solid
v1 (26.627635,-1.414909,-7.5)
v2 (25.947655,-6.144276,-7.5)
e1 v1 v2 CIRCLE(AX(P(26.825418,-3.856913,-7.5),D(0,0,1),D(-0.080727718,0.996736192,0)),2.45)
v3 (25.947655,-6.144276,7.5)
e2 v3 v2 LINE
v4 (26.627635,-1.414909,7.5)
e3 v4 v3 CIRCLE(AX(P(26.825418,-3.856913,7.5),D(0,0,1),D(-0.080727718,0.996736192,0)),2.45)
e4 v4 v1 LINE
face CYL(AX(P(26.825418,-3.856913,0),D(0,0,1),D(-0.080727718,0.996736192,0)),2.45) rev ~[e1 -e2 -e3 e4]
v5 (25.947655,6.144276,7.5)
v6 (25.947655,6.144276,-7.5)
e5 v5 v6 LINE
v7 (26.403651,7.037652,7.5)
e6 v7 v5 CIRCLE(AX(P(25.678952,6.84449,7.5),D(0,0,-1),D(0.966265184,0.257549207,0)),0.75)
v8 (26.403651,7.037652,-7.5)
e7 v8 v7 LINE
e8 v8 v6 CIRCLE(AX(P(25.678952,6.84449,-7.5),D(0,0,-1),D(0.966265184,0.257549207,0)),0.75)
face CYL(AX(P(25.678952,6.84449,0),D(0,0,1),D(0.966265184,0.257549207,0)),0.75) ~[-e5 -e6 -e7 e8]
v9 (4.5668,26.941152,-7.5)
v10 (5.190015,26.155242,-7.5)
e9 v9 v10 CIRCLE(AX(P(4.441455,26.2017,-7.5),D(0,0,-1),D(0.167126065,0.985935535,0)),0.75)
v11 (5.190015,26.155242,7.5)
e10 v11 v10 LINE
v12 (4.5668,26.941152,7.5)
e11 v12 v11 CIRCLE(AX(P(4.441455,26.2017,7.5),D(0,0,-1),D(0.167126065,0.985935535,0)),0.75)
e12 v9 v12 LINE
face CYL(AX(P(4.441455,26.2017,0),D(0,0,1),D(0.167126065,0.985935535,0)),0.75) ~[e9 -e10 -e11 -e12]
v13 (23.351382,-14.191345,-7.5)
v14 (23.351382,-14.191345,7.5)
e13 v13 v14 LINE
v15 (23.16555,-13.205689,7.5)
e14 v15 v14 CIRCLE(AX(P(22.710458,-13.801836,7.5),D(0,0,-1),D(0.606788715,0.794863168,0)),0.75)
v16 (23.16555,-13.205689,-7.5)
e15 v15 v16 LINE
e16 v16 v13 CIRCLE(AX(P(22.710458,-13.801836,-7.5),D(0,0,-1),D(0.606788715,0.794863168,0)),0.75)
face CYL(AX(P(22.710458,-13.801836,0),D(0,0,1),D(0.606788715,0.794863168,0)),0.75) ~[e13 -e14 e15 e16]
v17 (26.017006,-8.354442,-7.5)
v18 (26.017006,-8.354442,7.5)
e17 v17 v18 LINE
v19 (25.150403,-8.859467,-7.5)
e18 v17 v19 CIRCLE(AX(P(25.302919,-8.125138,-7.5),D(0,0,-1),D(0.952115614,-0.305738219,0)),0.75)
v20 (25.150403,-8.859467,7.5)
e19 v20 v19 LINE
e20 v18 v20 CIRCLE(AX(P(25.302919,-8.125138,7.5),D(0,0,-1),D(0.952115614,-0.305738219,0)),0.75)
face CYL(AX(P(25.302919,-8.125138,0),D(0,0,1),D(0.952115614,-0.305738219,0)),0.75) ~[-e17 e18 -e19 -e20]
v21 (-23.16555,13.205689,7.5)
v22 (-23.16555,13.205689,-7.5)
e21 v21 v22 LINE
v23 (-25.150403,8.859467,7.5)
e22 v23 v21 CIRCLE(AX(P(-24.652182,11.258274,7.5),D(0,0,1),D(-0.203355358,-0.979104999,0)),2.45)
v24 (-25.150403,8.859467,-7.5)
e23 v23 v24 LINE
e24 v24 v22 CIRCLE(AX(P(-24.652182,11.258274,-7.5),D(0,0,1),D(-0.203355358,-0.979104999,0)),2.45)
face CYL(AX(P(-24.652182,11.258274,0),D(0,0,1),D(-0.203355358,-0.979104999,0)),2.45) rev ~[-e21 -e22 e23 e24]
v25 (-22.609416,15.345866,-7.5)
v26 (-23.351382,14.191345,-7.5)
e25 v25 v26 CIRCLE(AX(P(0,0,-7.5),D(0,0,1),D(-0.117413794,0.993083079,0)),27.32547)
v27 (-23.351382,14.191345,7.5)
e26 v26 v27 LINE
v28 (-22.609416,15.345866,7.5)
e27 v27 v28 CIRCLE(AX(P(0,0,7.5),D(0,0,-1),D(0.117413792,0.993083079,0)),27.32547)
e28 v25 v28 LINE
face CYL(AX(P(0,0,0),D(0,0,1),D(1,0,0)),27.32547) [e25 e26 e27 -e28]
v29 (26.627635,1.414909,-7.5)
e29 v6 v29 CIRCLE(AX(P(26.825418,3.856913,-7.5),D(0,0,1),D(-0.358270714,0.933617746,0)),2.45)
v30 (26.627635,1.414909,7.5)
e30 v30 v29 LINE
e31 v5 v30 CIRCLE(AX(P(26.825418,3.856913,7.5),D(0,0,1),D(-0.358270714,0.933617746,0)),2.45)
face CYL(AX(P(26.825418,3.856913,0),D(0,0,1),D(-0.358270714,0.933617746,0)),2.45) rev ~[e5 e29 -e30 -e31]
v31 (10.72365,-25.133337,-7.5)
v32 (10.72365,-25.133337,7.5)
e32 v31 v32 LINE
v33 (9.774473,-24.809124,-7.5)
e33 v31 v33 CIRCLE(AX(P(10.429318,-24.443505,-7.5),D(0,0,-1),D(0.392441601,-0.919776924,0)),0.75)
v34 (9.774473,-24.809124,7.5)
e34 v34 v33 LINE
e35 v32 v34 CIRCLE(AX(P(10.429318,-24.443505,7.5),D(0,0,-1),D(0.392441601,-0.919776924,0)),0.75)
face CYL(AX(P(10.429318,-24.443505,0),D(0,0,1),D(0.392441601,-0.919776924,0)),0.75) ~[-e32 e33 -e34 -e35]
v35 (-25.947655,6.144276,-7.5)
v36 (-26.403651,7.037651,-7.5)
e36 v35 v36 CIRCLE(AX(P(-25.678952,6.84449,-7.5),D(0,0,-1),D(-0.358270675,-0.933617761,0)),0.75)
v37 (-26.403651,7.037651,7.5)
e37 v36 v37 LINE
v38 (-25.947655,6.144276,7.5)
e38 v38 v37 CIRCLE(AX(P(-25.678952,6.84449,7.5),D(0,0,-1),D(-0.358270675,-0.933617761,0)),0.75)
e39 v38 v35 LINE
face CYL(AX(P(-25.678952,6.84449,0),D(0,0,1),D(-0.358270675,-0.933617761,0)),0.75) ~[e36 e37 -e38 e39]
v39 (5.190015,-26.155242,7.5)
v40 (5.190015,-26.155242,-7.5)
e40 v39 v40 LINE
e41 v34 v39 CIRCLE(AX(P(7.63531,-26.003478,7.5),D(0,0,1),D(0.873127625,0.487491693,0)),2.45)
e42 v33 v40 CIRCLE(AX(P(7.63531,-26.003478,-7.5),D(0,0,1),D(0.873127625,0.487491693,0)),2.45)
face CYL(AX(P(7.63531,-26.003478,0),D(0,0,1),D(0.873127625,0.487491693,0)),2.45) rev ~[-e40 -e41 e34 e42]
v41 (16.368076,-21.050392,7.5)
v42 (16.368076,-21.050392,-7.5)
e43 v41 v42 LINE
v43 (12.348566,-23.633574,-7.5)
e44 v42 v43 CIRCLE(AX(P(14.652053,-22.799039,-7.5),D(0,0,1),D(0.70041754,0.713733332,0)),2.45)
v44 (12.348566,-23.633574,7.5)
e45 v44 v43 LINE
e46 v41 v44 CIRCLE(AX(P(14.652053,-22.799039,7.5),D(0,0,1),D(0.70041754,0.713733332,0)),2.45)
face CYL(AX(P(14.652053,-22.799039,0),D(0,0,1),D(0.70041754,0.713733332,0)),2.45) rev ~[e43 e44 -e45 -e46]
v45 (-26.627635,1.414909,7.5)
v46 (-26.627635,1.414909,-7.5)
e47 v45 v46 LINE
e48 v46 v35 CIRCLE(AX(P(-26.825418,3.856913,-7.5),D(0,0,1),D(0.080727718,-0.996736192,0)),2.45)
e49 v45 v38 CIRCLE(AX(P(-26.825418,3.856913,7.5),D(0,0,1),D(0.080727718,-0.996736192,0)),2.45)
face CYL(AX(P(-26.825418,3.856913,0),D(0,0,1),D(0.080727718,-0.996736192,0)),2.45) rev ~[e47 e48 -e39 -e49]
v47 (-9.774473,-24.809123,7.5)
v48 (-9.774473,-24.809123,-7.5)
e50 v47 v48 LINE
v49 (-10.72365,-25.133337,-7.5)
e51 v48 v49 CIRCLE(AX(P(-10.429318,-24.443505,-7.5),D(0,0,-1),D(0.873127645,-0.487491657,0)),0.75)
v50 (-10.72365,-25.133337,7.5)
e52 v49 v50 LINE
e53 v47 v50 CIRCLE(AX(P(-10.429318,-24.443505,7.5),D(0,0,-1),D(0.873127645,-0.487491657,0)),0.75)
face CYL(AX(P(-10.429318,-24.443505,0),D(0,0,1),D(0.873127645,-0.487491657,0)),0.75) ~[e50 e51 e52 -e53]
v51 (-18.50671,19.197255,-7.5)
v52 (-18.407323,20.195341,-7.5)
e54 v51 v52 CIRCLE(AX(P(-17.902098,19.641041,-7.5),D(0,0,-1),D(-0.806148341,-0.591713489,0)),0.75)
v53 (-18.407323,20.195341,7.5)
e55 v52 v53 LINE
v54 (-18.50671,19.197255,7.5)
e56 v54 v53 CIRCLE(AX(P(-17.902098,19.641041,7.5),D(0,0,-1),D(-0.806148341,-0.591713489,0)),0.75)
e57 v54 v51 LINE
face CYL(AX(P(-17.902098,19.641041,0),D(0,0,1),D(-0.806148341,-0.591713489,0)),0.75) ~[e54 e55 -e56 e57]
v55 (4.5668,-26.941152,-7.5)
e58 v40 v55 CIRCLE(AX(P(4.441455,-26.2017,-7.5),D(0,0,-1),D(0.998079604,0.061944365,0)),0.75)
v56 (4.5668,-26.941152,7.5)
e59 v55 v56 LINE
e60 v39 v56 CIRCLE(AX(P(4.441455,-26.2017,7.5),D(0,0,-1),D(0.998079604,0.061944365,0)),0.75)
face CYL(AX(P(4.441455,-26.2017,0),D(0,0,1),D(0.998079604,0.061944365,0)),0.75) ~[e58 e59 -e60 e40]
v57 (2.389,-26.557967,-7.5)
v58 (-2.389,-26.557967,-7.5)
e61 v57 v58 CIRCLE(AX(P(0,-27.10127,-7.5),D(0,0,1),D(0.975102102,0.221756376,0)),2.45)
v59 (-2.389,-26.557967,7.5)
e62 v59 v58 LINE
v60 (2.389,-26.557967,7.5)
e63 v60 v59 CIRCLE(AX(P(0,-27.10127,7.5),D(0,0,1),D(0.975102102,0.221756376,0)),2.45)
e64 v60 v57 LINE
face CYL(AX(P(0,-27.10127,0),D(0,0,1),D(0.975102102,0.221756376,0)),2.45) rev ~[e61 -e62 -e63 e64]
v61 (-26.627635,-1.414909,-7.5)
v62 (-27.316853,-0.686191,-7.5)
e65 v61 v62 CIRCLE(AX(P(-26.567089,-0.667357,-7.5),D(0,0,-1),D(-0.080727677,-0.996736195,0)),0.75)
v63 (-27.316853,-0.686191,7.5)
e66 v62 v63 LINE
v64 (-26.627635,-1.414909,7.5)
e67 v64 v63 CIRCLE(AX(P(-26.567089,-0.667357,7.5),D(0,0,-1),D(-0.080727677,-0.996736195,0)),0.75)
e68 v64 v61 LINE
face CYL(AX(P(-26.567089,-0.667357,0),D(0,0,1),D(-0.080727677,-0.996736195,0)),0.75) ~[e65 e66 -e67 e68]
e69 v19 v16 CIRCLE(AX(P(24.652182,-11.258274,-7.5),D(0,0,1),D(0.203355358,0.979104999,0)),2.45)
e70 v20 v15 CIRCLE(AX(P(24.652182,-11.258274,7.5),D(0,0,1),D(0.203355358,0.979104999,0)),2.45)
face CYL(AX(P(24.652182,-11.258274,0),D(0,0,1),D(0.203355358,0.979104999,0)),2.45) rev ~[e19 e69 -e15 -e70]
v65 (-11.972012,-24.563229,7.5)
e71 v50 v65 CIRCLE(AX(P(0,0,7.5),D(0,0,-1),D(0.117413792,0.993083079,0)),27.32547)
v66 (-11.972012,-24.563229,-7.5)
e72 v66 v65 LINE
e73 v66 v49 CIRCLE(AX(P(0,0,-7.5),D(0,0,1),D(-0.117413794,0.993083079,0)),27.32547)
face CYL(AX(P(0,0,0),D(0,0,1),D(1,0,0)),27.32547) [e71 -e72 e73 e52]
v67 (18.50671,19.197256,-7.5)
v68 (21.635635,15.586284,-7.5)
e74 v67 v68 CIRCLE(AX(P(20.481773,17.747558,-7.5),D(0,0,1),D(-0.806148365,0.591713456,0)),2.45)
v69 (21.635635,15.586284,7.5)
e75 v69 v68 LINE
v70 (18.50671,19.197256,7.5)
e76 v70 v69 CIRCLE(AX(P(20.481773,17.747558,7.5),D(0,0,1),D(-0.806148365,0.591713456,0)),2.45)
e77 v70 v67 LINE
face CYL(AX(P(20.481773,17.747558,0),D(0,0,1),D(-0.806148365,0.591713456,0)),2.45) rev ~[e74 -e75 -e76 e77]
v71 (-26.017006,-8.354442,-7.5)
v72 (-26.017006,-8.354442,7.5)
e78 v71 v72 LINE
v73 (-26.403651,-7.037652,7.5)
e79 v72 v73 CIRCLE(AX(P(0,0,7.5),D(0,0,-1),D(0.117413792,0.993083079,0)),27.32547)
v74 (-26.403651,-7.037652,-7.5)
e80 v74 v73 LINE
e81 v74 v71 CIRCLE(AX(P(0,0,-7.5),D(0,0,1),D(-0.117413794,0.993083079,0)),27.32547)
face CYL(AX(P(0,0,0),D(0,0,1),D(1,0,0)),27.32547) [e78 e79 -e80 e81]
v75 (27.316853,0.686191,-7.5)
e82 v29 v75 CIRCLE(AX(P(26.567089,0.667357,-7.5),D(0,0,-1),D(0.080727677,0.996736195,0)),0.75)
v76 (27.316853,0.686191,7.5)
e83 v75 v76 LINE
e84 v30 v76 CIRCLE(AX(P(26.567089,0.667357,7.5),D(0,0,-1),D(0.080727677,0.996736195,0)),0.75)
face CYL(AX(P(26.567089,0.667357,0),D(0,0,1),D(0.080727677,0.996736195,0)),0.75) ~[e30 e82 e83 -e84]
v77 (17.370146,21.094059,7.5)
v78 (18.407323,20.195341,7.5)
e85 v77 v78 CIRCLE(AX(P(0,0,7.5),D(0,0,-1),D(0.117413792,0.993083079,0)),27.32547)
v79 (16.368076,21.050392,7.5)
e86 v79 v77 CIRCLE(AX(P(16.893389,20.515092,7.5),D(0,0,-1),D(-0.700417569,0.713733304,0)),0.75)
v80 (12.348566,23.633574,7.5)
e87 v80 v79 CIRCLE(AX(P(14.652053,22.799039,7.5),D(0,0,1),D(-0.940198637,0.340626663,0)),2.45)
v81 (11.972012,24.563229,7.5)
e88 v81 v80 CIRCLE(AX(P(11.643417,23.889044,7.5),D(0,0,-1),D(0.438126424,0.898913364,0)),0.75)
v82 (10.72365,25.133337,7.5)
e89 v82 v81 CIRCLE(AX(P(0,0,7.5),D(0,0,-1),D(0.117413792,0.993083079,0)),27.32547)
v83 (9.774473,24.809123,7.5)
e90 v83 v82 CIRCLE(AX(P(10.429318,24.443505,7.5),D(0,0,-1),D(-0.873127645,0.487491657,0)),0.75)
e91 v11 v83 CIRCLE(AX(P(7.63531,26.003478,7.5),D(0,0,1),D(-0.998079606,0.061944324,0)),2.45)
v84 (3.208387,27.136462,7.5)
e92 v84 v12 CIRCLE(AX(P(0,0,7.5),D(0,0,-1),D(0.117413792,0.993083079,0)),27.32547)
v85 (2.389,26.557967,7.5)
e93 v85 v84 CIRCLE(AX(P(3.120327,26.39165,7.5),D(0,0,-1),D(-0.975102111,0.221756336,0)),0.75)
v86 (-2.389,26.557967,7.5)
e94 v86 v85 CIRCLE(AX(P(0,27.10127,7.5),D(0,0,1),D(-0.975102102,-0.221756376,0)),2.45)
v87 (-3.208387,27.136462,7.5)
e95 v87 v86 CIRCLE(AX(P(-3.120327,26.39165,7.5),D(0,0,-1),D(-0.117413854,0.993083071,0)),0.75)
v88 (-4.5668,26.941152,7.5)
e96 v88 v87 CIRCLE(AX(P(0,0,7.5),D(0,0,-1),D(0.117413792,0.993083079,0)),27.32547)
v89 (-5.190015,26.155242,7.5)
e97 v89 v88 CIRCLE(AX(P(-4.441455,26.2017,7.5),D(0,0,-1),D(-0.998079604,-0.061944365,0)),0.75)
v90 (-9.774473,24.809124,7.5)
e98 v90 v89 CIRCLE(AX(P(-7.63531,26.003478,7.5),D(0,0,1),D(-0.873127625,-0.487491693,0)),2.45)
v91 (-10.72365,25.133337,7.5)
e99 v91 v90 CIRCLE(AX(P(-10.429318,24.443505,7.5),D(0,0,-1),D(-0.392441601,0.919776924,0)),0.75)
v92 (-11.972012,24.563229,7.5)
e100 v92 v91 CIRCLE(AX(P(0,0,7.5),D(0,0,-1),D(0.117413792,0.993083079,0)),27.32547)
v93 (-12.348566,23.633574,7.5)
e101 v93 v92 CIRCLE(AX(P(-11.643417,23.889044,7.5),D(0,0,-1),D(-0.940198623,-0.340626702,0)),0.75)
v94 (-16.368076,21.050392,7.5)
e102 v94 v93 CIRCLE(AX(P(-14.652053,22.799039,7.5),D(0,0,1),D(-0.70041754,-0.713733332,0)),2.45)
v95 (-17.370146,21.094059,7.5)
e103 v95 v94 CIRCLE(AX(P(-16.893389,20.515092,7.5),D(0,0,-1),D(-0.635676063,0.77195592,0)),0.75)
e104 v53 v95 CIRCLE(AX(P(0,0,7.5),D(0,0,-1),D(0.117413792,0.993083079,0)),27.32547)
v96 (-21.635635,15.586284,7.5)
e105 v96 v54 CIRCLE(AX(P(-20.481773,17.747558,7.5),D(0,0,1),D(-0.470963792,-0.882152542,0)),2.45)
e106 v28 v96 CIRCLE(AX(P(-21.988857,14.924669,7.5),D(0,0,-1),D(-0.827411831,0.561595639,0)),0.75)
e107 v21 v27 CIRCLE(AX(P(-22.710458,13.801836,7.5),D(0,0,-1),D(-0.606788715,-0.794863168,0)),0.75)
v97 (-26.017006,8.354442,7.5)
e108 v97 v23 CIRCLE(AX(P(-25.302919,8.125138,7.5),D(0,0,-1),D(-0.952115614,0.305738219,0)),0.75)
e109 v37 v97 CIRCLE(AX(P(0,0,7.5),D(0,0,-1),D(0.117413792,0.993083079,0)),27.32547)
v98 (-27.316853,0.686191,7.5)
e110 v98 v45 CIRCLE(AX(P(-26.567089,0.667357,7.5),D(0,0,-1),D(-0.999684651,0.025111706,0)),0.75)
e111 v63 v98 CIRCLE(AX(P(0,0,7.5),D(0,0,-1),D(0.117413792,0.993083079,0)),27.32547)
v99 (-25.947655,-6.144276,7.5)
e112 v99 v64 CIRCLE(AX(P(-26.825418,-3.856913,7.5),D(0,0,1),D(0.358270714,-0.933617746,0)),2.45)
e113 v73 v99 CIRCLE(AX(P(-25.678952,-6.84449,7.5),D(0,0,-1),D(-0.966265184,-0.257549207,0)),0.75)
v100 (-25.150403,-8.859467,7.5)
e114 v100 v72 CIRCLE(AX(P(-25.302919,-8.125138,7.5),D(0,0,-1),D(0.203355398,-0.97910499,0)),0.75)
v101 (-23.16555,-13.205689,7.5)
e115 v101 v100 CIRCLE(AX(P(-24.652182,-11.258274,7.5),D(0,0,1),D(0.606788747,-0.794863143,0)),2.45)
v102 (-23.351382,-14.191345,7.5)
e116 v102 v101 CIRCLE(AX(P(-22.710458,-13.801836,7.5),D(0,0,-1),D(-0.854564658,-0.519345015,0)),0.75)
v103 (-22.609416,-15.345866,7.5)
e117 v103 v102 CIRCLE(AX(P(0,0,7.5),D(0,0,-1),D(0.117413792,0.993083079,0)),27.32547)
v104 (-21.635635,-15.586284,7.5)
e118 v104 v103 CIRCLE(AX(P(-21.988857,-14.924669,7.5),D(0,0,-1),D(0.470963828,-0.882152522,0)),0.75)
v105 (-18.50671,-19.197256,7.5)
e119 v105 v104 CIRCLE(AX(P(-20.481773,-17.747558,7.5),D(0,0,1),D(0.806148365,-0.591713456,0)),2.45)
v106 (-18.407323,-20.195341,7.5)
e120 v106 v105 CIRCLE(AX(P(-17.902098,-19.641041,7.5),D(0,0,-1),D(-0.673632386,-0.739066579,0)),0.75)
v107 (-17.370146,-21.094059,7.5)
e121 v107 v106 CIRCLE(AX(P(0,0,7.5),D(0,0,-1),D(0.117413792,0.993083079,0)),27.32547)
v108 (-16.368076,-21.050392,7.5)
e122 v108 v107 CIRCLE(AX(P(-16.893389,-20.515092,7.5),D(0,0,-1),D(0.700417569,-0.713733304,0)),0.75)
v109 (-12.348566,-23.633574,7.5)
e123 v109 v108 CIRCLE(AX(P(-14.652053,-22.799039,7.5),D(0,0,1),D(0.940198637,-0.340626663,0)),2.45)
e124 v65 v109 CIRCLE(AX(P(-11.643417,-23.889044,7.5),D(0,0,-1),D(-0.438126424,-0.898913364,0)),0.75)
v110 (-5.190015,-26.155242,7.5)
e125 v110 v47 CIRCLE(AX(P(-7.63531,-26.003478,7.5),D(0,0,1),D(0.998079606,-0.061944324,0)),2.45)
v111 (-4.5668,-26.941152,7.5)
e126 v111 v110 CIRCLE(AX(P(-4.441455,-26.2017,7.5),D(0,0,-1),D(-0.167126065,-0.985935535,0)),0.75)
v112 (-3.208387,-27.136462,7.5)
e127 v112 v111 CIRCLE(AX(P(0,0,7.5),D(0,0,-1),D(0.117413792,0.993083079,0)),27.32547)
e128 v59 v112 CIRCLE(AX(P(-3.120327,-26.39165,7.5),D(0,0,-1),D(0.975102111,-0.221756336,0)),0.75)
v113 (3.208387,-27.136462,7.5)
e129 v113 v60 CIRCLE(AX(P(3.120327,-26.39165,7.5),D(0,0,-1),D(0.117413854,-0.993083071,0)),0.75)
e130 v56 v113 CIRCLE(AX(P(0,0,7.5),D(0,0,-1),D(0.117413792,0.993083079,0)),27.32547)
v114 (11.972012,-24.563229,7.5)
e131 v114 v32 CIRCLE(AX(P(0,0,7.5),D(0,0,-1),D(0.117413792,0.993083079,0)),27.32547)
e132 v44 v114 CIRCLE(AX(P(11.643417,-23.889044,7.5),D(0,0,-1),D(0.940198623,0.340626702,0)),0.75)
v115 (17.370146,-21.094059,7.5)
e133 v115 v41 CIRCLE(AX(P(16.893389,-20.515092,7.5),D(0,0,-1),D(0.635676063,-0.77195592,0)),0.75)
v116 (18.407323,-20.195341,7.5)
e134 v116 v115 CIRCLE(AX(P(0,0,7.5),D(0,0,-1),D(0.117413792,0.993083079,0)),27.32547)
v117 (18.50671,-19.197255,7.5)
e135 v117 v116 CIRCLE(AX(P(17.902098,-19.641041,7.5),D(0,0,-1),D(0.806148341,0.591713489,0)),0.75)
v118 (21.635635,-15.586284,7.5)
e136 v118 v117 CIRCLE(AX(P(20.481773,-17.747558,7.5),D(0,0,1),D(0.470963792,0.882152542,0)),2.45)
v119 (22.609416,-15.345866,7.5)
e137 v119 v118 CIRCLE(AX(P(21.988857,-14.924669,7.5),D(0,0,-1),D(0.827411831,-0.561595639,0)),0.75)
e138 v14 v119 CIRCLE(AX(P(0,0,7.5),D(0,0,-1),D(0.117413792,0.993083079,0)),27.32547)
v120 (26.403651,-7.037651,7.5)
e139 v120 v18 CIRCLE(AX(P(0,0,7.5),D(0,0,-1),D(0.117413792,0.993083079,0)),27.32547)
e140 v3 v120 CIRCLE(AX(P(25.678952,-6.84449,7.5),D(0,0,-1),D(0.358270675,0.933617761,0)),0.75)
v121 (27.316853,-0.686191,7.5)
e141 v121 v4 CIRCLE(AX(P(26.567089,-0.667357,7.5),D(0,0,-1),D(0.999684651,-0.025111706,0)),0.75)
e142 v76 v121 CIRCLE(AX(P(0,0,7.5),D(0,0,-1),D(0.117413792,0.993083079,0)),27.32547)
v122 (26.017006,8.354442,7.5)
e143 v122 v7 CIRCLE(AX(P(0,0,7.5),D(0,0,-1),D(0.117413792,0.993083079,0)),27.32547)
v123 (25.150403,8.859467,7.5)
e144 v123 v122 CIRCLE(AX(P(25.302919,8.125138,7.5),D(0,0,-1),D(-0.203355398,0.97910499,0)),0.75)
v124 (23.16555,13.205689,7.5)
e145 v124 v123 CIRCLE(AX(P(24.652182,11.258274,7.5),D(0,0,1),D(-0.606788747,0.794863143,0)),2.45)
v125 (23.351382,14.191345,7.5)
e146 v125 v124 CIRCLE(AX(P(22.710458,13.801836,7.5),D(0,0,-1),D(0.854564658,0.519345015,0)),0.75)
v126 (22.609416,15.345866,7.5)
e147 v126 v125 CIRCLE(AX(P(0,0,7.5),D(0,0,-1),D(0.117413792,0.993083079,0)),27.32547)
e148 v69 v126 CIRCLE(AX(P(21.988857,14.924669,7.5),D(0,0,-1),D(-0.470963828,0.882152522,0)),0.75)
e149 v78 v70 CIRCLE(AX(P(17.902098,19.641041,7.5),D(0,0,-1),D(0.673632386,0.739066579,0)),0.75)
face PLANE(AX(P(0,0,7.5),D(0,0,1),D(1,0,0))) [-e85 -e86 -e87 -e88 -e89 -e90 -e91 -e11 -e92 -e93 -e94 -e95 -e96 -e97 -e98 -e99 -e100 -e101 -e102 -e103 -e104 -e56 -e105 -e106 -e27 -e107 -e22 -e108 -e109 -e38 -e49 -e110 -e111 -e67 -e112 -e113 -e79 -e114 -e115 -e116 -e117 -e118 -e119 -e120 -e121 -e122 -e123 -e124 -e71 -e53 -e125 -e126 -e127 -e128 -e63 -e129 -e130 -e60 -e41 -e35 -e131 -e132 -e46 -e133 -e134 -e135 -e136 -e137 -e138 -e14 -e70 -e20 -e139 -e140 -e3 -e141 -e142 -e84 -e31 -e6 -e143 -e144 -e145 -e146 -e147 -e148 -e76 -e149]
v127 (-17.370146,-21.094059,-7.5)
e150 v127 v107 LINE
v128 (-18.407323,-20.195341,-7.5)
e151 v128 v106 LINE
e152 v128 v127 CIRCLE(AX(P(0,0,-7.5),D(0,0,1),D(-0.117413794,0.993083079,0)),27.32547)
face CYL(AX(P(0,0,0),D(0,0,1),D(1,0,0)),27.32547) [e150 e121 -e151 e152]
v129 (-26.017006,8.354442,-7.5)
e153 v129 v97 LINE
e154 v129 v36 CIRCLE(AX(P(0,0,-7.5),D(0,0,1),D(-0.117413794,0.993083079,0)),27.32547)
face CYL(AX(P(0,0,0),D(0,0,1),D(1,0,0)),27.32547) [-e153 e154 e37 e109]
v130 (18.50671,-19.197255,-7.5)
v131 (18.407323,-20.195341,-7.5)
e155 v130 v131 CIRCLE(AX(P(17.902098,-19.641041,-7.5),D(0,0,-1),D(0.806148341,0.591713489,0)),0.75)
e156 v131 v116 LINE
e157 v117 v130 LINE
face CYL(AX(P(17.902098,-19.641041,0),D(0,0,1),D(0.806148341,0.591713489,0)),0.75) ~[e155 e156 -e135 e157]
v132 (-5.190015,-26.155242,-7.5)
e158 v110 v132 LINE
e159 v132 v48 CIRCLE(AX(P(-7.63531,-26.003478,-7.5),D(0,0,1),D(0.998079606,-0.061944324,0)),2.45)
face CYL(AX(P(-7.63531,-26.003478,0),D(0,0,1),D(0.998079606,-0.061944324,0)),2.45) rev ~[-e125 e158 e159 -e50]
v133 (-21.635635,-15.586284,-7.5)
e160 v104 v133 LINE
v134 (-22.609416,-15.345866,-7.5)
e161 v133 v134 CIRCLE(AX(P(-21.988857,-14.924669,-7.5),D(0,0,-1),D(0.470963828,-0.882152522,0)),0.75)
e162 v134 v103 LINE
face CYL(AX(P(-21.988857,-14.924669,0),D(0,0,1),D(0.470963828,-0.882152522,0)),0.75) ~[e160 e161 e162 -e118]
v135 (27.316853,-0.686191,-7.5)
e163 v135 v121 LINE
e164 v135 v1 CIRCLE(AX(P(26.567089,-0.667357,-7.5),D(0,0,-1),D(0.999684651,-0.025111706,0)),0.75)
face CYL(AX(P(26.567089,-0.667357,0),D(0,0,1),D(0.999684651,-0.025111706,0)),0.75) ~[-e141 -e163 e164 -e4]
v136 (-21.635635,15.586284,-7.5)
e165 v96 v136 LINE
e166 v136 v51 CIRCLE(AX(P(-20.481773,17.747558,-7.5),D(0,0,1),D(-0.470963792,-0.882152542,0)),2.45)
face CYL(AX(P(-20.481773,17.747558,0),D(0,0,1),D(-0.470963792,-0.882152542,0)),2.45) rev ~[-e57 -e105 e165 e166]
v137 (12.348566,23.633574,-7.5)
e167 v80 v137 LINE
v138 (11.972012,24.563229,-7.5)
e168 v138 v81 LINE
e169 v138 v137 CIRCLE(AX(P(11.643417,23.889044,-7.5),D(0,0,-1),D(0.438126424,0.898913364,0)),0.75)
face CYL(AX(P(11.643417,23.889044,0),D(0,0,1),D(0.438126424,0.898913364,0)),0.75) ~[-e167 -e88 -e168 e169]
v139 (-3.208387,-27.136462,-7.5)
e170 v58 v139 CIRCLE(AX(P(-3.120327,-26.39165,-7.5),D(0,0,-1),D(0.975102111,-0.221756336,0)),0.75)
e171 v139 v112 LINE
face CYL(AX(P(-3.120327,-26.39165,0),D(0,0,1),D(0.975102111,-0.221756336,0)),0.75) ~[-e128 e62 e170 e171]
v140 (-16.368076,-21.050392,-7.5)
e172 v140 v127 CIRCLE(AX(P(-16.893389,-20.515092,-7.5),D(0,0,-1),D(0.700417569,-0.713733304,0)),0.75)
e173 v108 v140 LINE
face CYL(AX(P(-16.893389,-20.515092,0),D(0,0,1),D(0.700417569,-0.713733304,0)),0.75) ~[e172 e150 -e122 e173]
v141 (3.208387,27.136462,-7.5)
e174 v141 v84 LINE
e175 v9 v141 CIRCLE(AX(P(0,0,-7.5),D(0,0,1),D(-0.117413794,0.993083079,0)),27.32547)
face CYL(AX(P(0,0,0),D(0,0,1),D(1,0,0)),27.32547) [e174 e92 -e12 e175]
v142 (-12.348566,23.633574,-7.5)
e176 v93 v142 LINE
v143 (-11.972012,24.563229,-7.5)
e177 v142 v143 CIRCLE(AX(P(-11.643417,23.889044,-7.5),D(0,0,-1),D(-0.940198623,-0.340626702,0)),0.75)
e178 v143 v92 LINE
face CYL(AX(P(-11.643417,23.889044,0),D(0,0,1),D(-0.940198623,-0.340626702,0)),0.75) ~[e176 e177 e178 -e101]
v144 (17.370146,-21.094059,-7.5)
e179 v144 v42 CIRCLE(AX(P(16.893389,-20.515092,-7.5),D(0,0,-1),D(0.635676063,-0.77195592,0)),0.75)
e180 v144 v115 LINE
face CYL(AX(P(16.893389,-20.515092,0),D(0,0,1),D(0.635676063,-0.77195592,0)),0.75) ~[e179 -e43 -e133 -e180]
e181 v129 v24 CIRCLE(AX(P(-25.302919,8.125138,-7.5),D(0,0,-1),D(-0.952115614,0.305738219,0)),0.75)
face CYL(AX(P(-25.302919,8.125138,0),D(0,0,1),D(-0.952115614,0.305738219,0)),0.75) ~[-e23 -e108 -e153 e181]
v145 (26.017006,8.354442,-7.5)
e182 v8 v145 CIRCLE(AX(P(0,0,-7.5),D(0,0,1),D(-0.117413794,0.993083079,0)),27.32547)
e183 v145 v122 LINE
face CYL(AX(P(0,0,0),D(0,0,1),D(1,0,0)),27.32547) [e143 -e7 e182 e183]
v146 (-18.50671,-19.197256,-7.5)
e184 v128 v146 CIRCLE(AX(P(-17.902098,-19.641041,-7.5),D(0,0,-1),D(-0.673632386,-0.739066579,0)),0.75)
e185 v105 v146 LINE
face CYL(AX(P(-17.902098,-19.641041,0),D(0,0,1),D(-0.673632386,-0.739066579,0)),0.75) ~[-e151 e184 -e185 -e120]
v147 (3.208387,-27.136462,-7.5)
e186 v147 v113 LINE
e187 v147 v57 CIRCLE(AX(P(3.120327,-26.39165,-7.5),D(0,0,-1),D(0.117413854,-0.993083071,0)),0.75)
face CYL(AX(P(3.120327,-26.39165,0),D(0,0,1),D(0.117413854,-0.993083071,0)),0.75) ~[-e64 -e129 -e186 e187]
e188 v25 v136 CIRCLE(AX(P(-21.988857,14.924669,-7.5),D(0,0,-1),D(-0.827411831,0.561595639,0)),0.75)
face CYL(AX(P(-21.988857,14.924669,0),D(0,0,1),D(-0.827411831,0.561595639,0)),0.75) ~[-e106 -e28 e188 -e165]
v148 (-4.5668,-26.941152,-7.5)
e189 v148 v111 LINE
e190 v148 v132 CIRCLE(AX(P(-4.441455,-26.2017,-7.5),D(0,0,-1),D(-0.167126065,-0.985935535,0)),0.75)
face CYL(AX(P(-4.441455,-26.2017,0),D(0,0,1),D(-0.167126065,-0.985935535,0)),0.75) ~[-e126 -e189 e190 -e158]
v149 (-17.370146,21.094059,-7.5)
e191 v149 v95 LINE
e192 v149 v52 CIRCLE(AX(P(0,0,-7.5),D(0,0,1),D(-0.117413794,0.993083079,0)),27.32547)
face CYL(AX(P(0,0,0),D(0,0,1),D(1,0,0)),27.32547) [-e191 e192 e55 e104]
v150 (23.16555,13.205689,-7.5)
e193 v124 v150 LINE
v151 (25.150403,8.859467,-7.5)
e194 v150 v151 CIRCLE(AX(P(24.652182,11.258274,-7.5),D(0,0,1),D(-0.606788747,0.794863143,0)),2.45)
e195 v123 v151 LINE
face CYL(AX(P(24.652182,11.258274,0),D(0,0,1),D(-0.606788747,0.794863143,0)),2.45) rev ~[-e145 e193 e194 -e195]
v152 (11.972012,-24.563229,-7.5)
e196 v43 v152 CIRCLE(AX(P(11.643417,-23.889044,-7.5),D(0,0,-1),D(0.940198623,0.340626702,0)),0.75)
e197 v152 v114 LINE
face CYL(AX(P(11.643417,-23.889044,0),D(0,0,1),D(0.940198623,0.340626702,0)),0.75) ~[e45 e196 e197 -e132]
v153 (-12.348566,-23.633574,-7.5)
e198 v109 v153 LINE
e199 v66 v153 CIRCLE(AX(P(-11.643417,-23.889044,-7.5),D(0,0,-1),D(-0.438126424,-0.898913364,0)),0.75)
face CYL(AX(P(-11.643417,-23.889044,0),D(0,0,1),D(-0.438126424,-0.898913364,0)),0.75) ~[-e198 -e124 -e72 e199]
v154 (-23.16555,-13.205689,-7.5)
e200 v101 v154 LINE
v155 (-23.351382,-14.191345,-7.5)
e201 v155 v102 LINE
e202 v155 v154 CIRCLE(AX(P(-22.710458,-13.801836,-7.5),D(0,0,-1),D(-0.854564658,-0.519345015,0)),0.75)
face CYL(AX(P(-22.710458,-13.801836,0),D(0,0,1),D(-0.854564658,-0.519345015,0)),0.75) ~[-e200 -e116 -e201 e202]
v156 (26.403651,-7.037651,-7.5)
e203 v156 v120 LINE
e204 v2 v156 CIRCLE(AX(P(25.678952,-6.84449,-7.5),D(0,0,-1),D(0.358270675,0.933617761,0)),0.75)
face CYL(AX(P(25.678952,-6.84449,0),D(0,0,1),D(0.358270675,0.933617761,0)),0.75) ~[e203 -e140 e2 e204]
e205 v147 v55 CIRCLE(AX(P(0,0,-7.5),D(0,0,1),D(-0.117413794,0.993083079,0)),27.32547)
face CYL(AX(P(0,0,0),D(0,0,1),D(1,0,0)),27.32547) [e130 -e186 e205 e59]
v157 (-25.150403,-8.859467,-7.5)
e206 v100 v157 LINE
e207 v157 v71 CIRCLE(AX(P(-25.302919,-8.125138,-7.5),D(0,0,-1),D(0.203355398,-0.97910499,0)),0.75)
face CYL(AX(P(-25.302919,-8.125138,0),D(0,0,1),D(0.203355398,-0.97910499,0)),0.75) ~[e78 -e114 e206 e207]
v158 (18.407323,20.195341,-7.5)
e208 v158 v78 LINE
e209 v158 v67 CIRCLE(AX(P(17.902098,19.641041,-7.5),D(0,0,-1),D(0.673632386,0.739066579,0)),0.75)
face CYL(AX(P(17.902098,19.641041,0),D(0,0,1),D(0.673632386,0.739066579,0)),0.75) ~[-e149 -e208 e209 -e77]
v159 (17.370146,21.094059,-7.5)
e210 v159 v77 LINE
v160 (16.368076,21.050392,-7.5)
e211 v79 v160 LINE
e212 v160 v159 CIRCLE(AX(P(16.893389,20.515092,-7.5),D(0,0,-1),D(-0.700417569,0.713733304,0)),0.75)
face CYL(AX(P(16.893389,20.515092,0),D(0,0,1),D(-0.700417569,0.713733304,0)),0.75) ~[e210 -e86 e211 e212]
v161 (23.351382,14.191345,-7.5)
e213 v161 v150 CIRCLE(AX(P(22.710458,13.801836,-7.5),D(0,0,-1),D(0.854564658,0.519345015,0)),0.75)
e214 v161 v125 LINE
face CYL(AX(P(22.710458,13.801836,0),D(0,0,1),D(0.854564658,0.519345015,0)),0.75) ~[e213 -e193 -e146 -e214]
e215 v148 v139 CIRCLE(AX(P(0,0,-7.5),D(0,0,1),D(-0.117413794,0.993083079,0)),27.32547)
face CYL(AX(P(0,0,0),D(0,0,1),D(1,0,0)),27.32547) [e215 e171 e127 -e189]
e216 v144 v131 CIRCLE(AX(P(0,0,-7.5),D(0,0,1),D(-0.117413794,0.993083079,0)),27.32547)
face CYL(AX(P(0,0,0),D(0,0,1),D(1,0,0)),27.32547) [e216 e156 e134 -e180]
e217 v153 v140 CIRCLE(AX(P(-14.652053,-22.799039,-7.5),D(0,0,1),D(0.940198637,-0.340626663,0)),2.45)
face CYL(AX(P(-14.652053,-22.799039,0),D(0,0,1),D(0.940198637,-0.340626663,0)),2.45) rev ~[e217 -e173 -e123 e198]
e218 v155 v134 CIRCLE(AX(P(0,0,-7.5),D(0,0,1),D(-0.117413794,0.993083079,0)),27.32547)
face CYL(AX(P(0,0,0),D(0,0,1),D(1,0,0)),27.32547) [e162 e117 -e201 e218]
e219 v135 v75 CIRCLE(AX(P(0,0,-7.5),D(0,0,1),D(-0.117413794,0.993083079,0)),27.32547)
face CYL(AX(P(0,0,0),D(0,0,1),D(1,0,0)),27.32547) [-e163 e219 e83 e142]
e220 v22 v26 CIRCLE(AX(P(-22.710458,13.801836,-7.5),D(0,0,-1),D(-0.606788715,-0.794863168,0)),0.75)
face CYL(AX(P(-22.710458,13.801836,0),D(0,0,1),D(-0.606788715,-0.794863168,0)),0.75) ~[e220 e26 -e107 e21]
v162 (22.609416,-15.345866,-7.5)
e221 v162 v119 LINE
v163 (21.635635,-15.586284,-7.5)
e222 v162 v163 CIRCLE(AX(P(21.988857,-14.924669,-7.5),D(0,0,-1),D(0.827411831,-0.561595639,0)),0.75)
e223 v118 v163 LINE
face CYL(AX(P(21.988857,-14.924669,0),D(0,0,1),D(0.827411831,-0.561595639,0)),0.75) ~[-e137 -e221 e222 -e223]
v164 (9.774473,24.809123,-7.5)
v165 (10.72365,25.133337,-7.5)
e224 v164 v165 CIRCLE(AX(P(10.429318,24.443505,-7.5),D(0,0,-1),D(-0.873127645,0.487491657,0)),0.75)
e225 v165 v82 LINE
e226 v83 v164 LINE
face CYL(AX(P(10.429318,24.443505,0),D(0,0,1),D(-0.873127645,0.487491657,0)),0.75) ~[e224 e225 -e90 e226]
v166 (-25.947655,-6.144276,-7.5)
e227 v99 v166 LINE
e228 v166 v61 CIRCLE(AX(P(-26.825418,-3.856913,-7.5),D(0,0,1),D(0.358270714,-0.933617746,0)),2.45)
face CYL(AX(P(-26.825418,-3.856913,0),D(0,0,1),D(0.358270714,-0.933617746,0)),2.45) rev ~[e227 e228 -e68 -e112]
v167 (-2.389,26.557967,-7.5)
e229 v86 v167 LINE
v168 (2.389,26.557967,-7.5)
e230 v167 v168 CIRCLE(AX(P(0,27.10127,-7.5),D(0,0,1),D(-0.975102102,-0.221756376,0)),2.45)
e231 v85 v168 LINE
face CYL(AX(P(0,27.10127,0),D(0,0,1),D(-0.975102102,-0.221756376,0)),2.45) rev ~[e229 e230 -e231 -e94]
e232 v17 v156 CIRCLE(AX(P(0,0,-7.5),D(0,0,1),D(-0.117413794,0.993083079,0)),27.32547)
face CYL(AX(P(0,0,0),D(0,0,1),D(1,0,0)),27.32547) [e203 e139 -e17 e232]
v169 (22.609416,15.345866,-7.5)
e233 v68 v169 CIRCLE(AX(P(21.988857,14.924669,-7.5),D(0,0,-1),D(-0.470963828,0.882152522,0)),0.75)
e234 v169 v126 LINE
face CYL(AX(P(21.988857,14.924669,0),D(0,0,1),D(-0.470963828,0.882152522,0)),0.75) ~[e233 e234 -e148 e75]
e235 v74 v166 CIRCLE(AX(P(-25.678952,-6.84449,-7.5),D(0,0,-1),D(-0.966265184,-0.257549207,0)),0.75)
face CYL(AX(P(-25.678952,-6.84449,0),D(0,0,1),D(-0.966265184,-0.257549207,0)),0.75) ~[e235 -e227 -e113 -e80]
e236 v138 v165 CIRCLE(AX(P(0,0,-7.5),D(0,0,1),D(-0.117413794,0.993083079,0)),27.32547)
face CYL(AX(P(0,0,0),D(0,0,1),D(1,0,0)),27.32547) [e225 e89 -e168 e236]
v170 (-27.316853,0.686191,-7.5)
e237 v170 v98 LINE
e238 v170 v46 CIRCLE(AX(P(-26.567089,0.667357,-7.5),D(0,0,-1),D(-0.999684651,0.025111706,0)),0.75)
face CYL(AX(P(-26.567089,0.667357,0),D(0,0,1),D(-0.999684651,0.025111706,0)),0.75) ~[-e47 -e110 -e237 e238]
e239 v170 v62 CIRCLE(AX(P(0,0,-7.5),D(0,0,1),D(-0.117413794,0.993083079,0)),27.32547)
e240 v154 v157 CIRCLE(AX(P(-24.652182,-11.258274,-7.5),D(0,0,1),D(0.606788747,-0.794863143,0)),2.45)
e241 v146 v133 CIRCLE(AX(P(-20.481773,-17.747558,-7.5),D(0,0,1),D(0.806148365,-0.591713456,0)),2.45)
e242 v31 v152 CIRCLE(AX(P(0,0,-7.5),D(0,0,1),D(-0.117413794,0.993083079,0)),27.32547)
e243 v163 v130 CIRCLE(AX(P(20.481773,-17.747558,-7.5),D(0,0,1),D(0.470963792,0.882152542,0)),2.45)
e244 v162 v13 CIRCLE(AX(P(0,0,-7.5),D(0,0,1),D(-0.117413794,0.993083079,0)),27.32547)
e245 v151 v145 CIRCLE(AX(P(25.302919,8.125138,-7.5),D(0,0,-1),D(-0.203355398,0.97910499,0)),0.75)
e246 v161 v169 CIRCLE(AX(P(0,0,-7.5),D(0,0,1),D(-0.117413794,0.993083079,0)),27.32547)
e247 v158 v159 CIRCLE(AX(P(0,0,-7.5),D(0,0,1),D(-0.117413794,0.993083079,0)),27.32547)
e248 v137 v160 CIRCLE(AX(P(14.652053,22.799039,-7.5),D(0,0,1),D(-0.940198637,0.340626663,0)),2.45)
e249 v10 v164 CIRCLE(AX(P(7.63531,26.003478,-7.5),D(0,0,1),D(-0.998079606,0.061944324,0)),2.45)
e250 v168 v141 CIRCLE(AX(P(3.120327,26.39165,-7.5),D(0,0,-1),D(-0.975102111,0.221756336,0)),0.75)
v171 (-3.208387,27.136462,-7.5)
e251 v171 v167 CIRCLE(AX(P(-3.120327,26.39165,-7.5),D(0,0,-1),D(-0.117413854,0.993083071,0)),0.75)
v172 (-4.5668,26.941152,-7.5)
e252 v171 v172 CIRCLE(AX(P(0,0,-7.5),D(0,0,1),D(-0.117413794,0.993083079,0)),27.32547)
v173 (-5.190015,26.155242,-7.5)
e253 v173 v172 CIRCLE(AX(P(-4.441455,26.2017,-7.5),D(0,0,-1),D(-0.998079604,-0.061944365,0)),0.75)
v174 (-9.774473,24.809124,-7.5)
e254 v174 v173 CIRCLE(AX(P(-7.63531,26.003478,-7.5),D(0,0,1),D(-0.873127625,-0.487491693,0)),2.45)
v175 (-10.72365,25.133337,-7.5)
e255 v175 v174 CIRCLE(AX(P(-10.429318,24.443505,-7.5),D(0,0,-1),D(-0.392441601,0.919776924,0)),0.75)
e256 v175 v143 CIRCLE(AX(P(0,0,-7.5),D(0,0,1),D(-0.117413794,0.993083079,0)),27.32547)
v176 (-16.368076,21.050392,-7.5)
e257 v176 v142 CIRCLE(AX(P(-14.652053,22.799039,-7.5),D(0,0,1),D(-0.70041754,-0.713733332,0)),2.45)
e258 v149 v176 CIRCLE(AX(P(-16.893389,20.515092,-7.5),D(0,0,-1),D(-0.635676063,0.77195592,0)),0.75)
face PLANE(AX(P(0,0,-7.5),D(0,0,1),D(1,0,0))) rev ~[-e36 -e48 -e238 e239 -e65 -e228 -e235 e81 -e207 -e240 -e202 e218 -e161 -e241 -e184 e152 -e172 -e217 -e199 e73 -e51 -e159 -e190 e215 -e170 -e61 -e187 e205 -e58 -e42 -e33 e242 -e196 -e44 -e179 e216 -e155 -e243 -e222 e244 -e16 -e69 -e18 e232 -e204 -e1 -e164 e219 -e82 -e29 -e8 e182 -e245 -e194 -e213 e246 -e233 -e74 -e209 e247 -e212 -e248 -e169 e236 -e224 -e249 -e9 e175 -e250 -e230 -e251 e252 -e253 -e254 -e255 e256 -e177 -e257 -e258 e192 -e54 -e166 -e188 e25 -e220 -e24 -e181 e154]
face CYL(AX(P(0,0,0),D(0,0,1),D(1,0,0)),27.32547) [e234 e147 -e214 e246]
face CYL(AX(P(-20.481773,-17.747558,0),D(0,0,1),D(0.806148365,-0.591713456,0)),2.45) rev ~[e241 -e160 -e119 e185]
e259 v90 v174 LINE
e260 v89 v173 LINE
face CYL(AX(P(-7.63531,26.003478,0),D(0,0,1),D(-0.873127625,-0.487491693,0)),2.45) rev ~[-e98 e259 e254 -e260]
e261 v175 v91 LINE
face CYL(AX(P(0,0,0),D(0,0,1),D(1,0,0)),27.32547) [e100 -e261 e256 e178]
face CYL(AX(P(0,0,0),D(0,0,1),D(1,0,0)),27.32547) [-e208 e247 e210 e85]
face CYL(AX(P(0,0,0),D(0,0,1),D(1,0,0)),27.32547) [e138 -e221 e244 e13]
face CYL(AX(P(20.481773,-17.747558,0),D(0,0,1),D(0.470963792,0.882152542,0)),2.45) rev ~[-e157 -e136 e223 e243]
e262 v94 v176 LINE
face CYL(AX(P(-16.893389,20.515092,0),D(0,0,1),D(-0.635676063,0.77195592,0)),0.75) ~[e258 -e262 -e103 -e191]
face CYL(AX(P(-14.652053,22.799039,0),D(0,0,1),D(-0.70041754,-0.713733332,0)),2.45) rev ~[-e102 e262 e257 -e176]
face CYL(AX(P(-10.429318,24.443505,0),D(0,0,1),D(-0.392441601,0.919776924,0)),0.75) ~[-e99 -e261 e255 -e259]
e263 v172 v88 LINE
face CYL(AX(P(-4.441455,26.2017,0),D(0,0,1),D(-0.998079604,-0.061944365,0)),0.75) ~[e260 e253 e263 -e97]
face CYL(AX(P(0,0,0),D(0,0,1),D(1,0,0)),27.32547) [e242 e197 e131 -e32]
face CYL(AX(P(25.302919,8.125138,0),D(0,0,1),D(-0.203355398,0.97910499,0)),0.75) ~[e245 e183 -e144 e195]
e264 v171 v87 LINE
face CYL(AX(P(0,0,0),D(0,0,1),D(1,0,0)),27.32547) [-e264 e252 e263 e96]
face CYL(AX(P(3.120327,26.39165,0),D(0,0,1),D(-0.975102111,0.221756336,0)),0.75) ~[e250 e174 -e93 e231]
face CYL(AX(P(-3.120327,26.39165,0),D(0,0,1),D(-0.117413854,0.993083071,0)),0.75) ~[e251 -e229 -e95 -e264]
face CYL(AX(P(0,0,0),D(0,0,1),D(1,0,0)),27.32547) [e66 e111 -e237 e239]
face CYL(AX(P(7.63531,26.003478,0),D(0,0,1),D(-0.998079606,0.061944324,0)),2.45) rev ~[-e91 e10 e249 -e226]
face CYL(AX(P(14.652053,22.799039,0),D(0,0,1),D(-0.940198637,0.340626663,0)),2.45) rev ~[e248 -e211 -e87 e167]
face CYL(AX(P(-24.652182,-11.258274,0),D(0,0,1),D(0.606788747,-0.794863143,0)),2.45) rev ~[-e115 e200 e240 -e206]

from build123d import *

# Parameters (mm, degrees)
SKETCH1_R           = 27.325470016
BOSS_EXTRUDE1_DEPTH = 7.5
CUT_EXTRUDE1_DEPTH  = 7.5
CIRPATTERN1_COUNT   = 22


with BuildPart() as part:
    # Sketch1 → Boss-Extrude1 (new, symmetric)
    with BuildSketch(Plane.XY):
        Circle(SKETCH1_R)
    extrude(amount=BOSS_EXTRUDE1_DEPTH, both=True)

    # Sketch1<3> → Cut-Extrude1 (cut, symmetric)
    with BuildSketch(Plane.XY):
        with BuildLine():
            ThreePointArc((2.389000136, 26.557966834), (2.687762275, 27.004338738), (3.208387057, 27.136461893))
            ThreePointArc((3.208387057, 27.136461893), (-2.8e-08, 27.325470016), (-3.208387112, 27.136461887))
            ThreePointArc((-3.208387112, 27.136461887), (-2.687762323, 27.004338772), (-2.38900015, 26.557966895))
            ThreePointArc((-2.38900015, 26.557966895), (-3.2e-08, 24.651270016), (2.389000136, 26.557966834))
        make_face()
    cut_extrude1 = extrude(amount=CUT_EXTRUDE1_DEPTH, both=True, mode=Mode.SUBTRACT)

    # CirPattern1: Cut-Extrude1 ×22 about axis
    cirpattern1_axis = Axis((0, 0, 7.5), (0, 0, 1))
    for i in range(1, CIRPATTERN1_COUNT):
        add(cut_extrude1.rotate(cirpattern1_axis, i * 360 / CIRPATTERN1_COUNT), mode=Mode.SUBTRACT)


solid = part.part
